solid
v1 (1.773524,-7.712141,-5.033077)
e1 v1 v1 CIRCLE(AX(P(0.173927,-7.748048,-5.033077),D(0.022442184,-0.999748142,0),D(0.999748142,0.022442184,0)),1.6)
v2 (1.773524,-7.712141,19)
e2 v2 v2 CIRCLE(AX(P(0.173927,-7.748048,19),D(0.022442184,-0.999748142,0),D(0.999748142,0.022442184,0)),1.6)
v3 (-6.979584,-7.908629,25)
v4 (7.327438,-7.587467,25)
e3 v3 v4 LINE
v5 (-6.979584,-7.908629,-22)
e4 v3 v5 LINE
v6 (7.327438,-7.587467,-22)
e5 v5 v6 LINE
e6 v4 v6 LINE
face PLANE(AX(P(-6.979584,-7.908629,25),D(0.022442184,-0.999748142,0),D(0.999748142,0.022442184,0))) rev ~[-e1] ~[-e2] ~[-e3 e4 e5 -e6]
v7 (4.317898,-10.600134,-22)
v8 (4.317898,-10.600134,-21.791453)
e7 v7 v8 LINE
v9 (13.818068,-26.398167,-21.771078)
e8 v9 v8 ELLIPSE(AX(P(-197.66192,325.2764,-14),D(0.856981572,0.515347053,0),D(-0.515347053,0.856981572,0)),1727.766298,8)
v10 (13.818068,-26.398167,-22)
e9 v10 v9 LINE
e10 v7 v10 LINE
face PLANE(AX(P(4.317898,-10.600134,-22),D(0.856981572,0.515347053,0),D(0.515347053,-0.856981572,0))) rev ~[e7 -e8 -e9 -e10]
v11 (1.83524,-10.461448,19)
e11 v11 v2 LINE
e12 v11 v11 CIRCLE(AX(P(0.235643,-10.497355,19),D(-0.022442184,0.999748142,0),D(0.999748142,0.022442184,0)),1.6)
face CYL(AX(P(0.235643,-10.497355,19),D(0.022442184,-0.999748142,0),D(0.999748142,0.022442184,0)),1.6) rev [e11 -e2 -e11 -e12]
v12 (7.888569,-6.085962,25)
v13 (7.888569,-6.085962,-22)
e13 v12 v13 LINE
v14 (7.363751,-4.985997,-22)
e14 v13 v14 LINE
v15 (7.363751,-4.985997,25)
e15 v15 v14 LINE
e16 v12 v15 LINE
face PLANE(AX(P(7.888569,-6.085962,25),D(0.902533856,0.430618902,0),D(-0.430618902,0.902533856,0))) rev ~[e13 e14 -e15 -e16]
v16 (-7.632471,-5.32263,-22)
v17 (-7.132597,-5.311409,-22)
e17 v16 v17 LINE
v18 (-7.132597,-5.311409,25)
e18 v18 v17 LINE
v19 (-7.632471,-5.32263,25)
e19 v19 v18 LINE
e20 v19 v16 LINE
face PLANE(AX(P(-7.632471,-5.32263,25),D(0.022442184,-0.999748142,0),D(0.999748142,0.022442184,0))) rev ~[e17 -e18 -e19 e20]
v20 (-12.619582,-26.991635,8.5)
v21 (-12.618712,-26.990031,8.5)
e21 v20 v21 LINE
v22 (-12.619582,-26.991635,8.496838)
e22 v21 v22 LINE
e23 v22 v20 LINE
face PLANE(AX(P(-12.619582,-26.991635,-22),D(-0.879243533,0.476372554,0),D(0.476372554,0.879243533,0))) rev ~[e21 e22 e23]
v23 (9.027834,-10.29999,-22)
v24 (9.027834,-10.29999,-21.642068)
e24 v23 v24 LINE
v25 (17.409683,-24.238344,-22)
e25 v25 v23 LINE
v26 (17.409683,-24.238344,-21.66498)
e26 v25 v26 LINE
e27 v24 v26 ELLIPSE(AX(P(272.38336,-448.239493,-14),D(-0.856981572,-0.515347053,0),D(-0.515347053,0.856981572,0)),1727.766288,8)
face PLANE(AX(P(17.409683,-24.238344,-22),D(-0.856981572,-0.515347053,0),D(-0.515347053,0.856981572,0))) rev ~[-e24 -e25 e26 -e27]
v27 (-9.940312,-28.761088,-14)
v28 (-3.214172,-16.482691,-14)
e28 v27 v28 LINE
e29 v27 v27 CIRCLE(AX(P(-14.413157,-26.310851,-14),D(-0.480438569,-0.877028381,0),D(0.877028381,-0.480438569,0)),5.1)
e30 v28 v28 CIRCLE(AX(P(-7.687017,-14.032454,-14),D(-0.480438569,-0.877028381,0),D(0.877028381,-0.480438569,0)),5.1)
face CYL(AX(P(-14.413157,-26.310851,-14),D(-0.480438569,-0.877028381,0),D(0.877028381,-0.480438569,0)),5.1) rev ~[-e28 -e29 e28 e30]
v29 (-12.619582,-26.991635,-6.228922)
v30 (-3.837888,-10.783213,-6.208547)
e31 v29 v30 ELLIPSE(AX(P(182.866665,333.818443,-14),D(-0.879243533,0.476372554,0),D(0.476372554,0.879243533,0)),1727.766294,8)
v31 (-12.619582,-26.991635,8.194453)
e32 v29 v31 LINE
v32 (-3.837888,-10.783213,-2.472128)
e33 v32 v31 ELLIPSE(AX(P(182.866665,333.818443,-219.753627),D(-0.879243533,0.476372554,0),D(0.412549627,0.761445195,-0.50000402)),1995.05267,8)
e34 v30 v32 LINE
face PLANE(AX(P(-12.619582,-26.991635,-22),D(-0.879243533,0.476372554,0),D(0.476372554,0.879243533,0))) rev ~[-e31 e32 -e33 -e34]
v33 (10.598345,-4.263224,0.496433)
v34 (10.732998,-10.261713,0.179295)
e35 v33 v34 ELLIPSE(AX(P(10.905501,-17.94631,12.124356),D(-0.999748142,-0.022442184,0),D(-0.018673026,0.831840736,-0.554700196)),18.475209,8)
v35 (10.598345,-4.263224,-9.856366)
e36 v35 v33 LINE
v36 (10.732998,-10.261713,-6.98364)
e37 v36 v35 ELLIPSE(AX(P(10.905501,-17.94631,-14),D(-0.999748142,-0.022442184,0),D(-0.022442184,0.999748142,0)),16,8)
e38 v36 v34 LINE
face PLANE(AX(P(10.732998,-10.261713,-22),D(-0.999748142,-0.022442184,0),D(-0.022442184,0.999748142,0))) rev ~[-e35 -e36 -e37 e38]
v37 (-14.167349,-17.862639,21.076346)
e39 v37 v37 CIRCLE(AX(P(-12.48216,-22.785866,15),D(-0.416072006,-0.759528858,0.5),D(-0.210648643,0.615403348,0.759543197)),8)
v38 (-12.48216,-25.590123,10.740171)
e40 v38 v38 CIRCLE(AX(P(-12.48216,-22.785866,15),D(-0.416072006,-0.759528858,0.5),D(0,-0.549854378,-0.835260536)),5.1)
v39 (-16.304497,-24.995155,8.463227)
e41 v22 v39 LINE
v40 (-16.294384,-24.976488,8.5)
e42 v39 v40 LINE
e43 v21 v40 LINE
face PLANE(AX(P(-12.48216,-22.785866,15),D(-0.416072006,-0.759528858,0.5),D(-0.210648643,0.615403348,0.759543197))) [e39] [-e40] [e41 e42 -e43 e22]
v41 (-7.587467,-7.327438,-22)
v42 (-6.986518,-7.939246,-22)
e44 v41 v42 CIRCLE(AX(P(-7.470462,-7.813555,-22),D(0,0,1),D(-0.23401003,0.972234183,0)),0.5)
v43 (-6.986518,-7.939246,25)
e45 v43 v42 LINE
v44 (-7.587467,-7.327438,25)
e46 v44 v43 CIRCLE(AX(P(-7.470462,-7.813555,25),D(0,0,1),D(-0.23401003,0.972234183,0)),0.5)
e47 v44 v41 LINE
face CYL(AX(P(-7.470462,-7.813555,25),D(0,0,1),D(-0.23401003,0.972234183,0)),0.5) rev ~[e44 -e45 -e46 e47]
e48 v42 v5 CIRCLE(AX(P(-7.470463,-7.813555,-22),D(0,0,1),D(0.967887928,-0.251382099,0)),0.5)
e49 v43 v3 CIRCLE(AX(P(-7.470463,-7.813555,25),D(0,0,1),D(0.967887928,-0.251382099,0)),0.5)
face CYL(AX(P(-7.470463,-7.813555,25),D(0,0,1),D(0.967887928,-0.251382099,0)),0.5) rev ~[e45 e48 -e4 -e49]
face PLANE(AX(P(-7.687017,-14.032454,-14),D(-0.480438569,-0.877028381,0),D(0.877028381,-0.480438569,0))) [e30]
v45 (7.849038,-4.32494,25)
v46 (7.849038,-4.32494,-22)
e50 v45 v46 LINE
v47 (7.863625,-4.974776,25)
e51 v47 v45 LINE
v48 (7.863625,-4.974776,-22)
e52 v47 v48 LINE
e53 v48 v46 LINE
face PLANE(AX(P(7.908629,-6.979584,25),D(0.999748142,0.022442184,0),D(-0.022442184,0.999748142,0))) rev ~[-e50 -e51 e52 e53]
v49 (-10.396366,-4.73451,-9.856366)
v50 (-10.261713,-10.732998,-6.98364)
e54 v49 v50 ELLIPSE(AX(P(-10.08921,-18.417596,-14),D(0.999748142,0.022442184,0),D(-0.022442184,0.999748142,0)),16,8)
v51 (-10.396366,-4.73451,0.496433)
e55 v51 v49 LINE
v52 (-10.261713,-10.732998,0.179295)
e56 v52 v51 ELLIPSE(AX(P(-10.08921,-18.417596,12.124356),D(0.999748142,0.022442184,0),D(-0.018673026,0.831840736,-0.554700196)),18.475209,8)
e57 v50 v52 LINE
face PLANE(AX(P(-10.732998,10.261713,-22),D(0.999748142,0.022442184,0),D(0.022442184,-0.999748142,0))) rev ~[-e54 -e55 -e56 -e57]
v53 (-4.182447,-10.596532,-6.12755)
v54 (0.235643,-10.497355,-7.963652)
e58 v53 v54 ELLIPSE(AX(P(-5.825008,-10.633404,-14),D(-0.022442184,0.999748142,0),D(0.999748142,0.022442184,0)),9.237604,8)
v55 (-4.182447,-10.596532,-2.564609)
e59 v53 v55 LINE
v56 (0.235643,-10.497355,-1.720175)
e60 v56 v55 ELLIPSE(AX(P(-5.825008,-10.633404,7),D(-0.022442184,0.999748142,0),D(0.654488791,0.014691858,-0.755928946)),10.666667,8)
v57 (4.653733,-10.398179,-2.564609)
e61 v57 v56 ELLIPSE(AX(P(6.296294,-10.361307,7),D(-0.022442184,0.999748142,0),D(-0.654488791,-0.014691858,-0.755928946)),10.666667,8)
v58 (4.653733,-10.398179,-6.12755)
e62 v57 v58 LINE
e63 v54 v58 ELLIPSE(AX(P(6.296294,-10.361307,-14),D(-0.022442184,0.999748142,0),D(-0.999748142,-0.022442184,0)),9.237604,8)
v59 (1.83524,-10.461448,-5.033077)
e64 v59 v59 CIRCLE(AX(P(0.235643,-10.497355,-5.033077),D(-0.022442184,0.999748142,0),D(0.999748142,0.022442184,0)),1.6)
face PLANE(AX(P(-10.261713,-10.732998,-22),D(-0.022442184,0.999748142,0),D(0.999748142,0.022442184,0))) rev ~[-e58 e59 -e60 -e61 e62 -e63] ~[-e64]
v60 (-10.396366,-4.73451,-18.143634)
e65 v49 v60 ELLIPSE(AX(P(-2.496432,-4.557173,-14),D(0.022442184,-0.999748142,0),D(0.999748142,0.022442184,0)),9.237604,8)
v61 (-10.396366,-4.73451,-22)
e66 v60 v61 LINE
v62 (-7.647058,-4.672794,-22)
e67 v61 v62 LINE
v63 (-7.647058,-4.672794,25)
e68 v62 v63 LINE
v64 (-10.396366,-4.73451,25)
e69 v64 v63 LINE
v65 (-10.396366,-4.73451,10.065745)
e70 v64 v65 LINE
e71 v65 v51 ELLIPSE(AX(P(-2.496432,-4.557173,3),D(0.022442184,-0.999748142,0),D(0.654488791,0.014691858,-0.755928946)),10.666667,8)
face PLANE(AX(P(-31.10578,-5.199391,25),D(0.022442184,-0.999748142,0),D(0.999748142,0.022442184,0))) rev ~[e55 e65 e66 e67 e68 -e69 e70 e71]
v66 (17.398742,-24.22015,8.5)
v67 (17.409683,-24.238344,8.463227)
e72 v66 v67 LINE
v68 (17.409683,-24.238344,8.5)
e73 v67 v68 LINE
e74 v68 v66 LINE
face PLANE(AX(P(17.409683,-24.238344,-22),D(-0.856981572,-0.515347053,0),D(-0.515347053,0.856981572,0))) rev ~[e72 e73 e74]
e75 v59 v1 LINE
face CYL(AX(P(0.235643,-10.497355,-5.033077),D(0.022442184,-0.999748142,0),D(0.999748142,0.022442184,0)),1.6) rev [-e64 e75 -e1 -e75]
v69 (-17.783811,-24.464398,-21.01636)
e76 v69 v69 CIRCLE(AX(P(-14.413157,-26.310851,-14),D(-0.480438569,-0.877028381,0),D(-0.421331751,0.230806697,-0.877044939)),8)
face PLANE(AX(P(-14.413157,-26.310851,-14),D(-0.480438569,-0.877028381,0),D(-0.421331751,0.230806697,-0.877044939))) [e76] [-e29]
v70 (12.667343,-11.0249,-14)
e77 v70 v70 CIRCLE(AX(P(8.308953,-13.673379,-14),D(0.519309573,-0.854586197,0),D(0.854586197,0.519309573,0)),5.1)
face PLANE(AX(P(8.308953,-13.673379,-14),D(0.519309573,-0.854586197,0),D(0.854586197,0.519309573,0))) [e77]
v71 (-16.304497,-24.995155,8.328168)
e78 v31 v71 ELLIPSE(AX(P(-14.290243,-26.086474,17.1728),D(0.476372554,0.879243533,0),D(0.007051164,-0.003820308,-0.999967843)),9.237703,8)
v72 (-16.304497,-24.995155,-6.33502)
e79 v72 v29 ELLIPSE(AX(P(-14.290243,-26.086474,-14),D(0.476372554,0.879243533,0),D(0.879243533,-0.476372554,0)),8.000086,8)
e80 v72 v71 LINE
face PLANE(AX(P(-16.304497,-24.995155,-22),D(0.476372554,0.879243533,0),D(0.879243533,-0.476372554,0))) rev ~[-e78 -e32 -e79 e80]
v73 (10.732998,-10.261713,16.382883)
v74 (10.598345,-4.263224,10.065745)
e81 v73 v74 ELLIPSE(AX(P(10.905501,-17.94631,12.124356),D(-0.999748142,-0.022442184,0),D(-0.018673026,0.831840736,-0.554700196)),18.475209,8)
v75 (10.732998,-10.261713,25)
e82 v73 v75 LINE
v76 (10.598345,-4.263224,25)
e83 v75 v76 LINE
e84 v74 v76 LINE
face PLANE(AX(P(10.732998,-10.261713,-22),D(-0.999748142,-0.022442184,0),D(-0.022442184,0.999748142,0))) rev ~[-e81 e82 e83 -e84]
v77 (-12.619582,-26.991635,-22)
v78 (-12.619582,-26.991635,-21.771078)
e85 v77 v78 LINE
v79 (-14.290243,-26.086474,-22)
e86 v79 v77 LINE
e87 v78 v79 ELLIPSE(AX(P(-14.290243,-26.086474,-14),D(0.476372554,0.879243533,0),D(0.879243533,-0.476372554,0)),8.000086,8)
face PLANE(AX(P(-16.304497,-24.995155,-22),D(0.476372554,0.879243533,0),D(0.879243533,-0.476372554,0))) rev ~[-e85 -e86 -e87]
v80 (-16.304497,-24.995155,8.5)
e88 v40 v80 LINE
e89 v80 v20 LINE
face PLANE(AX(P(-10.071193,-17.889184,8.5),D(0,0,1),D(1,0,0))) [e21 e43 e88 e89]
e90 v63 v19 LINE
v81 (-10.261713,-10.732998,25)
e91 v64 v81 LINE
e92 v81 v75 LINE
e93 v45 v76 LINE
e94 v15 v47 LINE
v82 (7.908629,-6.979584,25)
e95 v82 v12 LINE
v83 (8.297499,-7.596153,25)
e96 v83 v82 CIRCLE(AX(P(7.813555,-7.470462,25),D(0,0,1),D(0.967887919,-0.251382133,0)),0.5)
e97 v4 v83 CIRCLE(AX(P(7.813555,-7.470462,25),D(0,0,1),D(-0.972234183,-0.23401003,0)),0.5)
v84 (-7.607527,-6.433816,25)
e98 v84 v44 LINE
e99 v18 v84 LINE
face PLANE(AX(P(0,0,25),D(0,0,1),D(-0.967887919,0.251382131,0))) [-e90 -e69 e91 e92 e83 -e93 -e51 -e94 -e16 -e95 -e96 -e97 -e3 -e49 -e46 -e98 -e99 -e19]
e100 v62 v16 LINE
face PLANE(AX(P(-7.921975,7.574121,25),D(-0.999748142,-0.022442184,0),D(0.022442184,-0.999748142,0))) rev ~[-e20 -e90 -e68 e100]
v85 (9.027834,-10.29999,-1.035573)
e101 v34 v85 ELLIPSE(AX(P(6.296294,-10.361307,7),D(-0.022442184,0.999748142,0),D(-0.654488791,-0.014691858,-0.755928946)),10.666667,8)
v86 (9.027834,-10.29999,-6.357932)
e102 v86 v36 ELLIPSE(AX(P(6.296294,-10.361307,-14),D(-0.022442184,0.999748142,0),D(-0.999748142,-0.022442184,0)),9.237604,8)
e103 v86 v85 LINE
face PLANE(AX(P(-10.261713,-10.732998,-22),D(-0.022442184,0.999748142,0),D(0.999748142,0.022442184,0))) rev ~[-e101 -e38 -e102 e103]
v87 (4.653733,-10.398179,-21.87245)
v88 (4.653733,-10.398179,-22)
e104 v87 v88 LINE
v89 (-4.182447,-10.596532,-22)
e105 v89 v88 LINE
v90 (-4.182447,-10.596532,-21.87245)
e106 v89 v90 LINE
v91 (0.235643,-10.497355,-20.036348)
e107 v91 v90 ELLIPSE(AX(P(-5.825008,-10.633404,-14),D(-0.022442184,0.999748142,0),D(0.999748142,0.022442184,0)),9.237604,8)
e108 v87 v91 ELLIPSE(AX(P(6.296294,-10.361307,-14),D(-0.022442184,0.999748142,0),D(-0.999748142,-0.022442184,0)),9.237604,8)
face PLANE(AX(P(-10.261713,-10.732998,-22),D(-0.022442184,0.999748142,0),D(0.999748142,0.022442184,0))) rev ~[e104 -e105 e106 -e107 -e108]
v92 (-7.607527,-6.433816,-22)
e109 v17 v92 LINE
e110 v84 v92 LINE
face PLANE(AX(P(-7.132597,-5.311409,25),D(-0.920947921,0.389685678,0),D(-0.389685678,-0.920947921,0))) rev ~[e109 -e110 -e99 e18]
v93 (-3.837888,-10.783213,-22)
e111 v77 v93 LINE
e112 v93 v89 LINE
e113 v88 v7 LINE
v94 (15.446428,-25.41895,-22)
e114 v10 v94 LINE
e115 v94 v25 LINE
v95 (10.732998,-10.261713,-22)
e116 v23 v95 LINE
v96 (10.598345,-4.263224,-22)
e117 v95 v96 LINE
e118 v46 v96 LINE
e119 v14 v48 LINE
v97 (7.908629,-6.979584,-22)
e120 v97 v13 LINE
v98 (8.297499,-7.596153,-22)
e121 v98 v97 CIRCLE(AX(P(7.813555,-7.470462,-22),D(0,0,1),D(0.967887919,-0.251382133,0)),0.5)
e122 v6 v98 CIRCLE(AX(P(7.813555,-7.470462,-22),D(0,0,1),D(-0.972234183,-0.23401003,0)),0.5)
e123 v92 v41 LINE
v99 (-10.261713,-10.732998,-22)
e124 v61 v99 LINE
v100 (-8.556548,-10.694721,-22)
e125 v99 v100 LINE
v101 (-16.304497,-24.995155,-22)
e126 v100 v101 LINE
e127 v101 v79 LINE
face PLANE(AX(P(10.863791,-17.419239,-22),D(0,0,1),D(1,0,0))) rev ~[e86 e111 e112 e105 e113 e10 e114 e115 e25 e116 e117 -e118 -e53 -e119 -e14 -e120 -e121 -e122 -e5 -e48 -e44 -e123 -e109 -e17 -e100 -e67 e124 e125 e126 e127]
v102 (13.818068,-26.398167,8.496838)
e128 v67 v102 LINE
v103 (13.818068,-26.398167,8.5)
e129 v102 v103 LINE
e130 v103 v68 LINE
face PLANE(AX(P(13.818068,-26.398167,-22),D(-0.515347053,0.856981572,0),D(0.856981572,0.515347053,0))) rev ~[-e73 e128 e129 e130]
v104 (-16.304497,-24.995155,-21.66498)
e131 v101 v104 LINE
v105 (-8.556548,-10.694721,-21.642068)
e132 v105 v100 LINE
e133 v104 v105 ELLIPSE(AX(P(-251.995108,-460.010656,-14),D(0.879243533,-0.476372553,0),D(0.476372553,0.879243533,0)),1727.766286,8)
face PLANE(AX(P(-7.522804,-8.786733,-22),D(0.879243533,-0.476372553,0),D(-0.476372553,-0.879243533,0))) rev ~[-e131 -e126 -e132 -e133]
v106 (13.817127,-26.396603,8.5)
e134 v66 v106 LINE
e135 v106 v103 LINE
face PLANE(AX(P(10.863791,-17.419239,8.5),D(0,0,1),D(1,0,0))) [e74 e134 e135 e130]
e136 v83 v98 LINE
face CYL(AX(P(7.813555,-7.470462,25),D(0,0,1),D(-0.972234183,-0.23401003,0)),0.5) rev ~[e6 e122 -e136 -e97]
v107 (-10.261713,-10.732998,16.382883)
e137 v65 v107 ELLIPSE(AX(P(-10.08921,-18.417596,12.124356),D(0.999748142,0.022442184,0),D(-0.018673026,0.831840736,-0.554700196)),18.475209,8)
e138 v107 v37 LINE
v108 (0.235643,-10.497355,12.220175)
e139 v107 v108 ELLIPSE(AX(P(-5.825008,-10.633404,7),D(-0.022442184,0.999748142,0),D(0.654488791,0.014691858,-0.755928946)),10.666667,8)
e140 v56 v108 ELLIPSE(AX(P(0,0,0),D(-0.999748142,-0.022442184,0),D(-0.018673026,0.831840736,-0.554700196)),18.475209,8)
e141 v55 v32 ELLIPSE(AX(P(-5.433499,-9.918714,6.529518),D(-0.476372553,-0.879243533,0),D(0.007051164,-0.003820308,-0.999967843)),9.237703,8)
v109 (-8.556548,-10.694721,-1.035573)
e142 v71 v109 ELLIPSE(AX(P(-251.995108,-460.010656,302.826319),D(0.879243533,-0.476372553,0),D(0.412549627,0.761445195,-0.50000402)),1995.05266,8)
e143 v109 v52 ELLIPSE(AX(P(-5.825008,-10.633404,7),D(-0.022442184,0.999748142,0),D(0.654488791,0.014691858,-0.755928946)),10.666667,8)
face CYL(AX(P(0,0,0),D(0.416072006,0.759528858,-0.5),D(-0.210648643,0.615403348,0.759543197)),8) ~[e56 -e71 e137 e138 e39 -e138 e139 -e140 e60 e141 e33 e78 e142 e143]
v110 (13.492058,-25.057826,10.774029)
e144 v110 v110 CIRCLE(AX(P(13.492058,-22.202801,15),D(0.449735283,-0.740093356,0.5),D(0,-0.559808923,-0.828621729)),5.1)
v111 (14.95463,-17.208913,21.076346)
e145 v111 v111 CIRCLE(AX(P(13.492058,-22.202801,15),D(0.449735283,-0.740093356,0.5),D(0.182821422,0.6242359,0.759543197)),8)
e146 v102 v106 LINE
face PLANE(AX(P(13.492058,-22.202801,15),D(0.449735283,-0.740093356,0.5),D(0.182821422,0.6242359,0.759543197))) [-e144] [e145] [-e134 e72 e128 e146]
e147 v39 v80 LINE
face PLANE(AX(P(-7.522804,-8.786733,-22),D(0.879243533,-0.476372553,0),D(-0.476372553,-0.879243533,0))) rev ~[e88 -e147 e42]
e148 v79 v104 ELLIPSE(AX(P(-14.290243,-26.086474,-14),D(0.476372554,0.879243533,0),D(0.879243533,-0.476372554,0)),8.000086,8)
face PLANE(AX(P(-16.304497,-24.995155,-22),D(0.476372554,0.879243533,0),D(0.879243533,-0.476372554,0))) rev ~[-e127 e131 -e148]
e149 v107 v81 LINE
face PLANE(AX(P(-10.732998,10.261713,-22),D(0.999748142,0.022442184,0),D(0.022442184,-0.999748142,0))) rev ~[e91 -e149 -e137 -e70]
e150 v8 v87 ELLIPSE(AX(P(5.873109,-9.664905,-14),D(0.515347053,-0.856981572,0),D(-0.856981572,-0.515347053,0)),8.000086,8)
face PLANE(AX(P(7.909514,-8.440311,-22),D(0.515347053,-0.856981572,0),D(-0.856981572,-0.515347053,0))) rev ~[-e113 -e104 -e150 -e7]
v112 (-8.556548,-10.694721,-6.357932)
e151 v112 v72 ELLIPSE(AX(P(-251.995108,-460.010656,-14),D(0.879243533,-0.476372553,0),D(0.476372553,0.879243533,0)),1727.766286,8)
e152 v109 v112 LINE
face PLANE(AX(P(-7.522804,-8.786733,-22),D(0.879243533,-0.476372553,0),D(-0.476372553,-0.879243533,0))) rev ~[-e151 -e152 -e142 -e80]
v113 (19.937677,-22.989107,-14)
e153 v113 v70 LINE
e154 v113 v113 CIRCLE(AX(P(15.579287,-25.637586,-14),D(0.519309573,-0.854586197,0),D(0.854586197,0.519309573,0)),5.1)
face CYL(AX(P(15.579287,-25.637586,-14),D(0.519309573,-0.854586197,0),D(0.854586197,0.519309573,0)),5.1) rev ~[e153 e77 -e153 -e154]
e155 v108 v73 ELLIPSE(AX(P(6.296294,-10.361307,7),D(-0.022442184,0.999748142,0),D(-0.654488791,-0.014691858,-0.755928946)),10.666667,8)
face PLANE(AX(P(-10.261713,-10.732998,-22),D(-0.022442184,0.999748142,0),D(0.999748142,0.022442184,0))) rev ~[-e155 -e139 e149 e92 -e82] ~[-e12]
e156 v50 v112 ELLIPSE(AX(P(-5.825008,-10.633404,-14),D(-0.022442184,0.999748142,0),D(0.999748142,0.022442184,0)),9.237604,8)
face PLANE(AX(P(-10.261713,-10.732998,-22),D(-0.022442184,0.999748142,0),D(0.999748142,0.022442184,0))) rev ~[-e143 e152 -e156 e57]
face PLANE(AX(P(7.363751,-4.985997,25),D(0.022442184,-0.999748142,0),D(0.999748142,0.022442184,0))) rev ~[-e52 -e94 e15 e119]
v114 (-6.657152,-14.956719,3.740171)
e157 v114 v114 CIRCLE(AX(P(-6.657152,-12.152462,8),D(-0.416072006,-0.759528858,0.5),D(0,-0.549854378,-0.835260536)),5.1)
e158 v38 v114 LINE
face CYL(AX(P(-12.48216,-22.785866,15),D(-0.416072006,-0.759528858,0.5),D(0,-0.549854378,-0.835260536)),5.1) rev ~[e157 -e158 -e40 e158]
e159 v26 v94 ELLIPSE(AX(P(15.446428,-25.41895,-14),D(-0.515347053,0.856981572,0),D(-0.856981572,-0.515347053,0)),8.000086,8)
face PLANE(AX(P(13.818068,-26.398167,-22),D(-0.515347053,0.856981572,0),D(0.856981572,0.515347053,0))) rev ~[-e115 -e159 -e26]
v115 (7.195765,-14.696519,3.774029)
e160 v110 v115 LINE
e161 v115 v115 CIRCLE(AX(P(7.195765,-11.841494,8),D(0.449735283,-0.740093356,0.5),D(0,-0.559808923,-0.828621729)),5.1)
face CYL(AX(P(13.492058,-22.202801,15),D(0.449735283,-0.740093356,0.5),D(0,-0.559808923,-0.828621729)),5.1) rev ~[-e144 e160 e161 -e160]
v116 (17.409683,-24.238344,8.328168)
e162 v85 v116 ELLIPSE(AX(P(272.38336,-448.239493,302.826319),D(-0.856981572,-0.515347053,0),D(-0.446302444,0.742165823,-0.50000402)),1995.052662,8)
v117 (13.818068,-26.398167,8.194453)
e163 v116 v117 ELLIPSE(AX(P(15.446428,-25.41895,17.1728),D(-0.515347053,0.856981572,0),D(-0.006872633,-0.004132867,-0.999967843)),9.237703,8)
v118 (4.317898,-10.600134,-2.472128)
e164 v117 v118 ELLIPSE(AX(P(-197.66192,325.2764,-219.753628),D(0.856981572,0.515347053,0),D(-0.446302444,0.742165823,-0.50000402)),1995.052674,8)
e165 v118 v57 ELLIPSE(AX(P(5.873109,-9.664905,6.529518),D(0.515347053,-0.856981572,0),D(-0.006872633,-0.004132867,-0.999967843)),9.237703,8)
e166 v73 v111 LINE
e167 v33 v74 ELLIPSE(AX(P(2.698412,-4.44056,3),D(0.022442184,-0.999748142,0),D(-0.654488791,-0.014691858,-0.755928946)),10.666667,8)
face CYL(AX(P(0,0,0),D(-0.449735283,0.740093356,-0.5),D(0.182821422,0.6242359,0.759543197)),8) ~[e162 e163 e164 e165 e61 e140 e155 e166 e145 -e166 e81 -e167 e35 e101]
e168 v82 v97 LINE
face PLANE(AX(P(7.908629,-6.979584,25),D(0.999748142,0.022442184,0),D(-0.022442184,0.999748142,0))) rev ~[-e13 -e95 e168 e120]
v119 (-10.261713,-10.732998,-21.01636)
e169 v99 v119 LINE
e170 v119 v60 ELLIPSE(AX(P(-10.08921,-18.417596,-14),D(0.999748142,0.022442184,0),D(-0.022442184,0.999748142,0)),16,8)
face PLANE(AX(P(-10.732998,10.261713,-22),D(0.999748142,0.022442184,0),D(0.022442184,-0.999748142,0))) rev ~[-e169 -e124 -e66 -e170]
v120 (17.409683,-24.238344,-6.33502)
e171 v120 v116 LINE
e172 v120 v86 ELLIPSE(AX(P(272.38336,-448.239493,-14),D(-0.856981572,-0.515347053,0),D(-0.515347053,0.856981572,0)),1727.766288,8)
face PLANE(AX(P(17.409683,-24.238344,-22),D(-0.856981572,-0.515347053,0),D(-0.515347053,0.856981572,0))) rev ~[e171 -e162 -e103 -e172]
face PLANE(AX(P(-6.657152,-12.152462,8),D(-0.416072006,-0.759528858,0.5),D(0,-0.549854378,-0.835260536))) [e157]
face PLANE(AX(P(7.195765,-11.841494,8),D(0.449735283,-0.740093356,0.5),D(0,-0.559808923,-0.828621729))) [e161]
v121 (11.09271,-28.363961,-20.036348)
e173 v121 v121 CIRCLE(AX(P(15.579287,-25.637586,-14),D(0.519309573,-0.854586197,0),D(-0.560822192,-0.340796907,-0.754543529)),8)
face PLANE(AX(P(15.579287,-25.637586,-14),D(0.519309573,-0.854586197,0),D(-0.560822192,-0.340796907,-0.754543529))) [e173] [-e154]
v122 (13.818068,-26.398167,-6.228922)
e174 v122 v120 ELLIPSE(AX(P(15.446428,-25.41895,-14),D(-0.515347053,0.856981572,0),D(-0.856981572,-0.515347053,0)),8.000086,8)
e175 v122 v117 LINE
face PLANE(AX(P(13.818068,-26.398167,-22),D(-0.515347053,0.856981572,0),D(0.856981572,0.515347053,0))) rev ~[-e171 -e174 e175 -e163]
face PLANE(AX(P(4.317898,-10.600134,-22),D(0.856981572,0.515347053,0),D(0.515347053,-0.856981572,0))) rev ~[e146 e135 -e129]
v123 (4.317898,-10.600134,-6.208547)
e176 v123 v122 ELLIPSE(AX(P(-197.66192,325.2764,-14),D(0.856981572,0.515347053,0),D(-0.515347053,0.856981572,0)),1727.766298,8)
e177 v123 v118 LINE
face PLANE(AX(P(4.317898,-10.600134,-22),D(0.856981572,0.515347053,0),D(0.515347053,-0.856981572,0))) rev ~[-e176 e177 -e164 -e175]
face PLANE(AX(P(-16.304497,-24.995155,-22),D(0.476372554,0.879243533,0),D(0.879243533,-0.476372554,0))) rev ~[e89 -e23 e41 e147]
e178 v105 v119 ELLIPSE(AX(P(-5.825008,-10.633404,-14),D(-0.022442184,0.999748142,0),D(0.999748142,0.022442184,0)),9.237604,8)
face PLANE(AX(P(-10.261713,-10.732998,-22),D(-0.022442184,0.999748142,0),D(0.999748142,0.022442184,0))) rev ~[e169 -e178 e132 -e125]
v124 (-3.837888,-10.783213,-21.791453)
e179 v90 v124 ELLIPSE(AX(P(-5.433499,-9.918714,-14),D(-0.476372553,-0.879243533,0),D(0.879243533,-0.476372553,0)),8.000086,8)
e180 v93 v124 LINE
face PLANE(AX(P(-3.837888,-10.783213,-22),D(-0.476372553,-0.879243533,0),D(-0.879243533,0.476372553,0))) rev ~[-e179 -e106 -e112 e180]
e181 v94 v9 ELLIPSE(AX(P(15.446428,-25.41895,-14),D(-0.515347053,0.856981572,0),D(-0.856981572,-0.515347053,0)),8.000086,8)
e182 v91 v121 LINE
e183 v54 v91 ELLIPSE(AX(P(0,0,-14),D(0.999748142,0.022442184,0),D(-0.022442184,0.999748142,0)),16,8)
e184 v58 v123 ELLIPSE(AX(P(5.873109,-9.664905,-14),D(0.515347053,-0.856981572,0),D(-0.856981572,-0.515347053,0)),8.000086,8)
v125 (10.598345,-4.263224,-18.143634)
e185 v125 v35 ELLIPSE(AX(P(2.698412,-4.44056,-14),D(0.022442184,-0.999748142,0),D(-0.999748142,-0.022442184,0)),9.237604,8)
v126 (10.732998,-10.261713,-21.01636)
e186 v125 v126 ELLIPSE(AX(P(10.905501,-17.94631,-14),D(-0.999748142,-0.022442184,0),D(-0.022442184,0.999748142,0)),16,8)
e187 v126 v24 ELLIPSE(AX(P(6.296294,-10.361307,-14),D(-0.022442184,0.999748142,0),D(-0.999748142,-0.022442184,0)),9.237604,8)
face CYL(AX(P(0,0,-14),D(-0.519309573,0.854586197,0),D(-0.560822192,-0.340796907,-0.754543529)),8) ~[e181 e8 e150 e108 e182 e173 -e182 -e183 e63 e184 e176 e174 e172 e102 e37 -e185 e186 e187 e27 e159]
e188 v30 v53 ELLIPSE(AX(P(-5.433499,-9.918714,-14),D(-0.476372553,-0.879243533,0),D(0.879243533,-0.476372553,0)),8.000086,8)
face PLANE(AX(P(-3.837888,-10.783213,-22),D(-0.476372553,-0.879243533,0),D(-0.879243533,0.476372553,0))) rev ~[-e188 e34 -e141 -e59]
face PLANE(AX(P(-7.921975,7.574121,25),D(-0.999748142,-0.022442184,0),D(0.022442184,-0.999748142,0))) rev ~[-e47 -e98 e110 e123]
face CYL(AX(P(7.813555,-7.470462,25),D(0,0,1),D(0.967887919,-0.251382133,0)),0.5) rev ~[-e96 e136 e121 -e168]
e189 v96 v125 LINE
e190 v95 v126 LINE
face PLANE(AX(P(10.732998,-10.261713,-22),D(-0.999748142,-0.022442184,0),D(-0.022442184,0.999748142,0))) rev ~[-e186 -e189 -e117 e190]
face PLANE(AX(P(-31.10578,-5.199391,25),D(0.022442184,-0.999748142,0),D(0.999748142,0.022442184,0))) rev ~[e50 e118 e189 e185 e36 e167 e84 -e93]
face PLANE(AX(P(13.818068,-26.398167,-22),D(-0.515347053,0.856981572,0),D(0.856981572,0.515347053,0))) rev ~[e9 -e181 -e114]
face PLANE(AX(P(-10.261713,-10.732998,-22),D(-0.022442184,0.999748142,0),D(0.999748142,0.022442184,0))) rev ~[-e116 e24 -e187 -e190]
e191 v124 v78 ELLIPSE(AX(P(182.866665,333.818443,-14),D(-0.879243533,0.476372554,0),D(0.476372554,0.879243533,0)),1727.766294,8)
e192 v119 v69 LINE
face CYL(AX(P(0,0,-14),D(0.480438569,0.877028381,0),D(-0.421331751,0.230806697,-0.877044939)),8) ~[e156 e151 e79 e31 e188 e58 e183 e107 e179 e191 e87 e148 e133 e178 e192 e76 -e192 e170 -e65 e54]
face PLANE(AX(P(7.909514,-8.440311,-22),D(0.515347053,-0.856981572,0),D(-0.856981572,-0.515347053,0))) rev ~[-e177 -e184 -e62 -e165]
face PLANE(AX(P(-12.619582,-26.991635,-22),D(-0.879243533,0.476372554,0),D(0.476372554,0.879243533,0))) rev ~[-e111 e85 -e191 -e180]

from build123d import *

# Parameters (mm, degrees)
BOSS_EXTRUDE1_DEPTH      = 25
BOSS_EXTRUDE1_DEPTH_BACK = 22
SKETCH5_R                = 8
BOSS_EXTRUDE2_DEPTH      = 30
SKETCH6_R                = 8
BOSS_EXTRUDE3_DEPTH      = 30
SKETCH18_R               = 8
BOSS_EXTRUDE4_DEPTH      = 30
SKETCH19_R               = 8
BOSS_EXTRUDE5_DEPTH      = 30
SKETCH11_R               = 0.5
CUT_EXTRUDE4_DEPTH       = 61.172763276
CUT_EXTRUDE5_REACH       = 41.594
SKETCH12_R               = 1.6
TOPCUT_DEPTH             = 61.172763276
GRABTABS_DEPTH           = 47
BOSS_EXTRUDE6_DEPTH      = 30.5
SKETCH22_R               = 5.1
CUT_EXTRUDE6_DEPTH       = 14
SKETCH23_R               = 5.1
CUT_EXTRUDE7_DEPTH       = 14
SKETCH20_R               = 5.1
CUT_EXTRUDE8_DEPTH       = 14
SKETCH21_R               = 5.1
CUT_EXTRUDE9_DEPTH       = 14


with BuildPart() as part:
    # Sketch3 → Boss-Extrude1 (new, two sides: drawn at the far end of the back side and taken through both)
    with BuildSketch(Plane(origin=(0, 0, 0), x_dir=(-0.9678879191476432, 0.2513821313618881, 0), z_dir=(0, 0, 1)).offset(-BOSS_EXTRUDE1_DEPTH_BACK)):
        Polygon((-7.234103595, -12.967950693), (12.967950693, -7.234103595), (7.234103595, 12.967950693), (-12.967950693, 7.234103595), align=None)
    extrude(amount=BOSS_EXTRUDE1_DEPTH + BOSS_EXTRUDE1_DEPTH_BACK)

    # Sketch5 → Boss-Extrude2 (add)
    with BuildSketch(Plane(origin=(0, 0, 0), x_dir=(-0.7398893525523432, -0.6222846190478576, -0.2555887299474237), z_dir=(0.4497352826512201, -0.740093355961685, 0.499999999999998))):
        with Locations(Location((0, 0, 0), (0, 0, 224.122685504))):
            Circle(SKETCH5_R)
    extrude(amount=BOSS_EXTRUDE2_DEPTH)

    # Sketch6 → Boss-Extrude3 (add)
    with BuildSketch(Plane(origin=(0, 0, 0), x_dir=(-0.7035639492311271, 0.6172392366079582, 0.3521554970945721), z_dir=(-0.4160720061092844, -0.7595288577349761, 0.499999999999998))):
        with Locations(Location((0, 0, 0), (0, 0, 322.705646398))):
            Circle(SKETCH6_R)
    extrude(amount=BOSS_EXTRUDE3_DEPTH)

    # Sketch18 → Boss-Extrude4 (add)
    with BuildSketch(Plane(origin=(0, 0, -14), x_dir=(-0.8770283809411537, 0.48043856945892555, 0), z_dir=(-0.4804385694589255, -0.8770283809411535, 0))):
        with Locations(Location((0, 0, 0), (0, 0, 61.287925102))):
            Circle(SKETCH18_R)
    extrude(amount=BOSS_EXTRUDE4_DEPTH)

    # Sketch19 → Boss-Extrude5 (add)
    with BuildSketch(Plane(origin=(0, 0, -14), x_dir=(-0.8545861965798597, -0.5193095730055144, 0), z_dir=(0.5193095730055143, -0.8545861965798596, 0))):
        with Locations(Location((0, 0, 0), (0, 0, 48.985500334))):
            Circle(SKETCH19_R)
    extrude(amount=BOSS_EXTRUDE5_DEPTH)

    # Sketch11 → Cut-Extrude4 (cut, through all)
    with BuildSketch(Plane(origin=(0, 0, 25), x_dir=(0.967887919147643, -0.25138213136188803, 0), z_dir=(0, 0, 1))):
        with BuildLine():
            ThreePointArc((-4.766381934, -9.44058657), (-4.766628372, -9.424890171), (-4.767367442, -9.409209245))
            Line((-4.767367442, -9.409209245), (-5.339457415, -9.571582654))
            Line((-5.339457415, -9.571582654), (-5.501830825, -8.999492681))
            ThreePointArc((-5.501830825, -8.999492681), (-5.523554594, -9.869378155), (-4.766381934, -9.44058657))
        make_face()
        with BuildLine():
            Line((-5.339457415, -9.571582654), (-4.767367442, -9.409209245))
            ThreePointArc((-4.767367442, -9.409209245), (-5.022796995, -9.003932957), (-5.501830825, -8.999492681))
            Line((-5.501830825, -8.999492681), (-5.339457415, -9.571582654))
        make_face()
        with BuildLine():
            Line((8.999492681, -5.501830825), (9.571582654, -5.339457415))
            Line((9.571582654, -5.339457415), (9.409209245, -4.767367442))
            ThreePointArc((9.409209245, -4.767367442), (9.003932957, -5.022796995), (8.999492681, -5.501830825))
        make_face()
        with BuildLine():
            Line((9.409209245, -4.767367442), (9.571582654, -5.339457415))
            Line((9.571582654, -5.339457415), (8.999492681, -5.501830825))
            ThreePointArc((8.999492681, -5.501830825), (9.561939475, -5.751431903), (9.94058657, -5.266381934))
            ThreePointArc((9.94058657, -5.266381934), (9.782866673, -4.901903771), (9.409209245, -4.767367442))
        make_face()
        with Locations((-5.266381934, -9.44058657)):
            Circle(SKETCH11_R)
        with Locations((9.44058657, -5.266381934)):
            Circle(SKETCH11_R)
        Polygon((-5.339457415, -9.571582654), (9.571582654, -5.339457415), (5.339457415, 9.571582654), (-9.571582654, 5.339457415), align=None)
    extrude(amount=-CUT_EXTRUDE4_DEPTH, mode=Mode.SUBTRACT)

    # Sketch12 → Cut-Extrude5 (cut, up to next)
    with BuildSketch(Plane(origin=(0.235642936, -10.497355496, 0), x_dir=(0.07428415697149086, 0.0016675187230335104, -0.9972357210832067), z_dir=(-0.02244218436129408, 0.9997481424644377, 0)), mode=Mode.PRIVATE) as cut_extrude5_sk1:
        with Locations(Location((-18.947478701, -1.411754543, 0), (0, 0, 274.261167974))):
            Circle(SKETCH12_R)
    cut_extrude5_tool1 = extrude(cut_extrude5_sk1.sketch, amount=CUT_EXTRUDE5_REACH, mode=Mode.PRIVATE) & part.part
    # Sketch12 → Cut-Extrude5 (cut, up to next)
    with BuildSketch(Plane(origin=(0.235642936, -10.497355496, 0), x_dir=(0.07428415697149086, 0.0016675187230335104, -0.9972357210832067), z_dir=(-0.02244218436129408, 0.9997481424644377, 0)), mode=Mode.PRIVATE) as cut_extrude5_sk2:
        with Locations(Location((5.019164388, 0.373972086, 0), (0, 0, 274.261167974))):
            Circle(SKETCH12_R)
    cut_extrude5_tool2 = extrude(cut_extrude5_sk2.sketch, amount=CUT_EXTRUDE5_REACH, mode=Mode.PRIVATE) & part.part
    add(cut_extrude5_tool1.solids().sort_by_distance((0.235643, -10.497355, 19))[0], mode=Mode.SUBTRACT)
    add(cut_extrude5_tool2.solids().sort_by_distance((0.235643, -10.497355, -5.033077))[0], mode=Mode.SUBTRACT)

    # Sketch14 → TopCut (cut, through all)
    with BuildSketch(Plane.XY.offset(25)):
        Polygon((-31.105779731, -5.199391149), (38.352697692, -3.640198499), (37.988721129, 12.574127466), (-33.745248602, 10.963854933), align=None)
    extrude(amount=-TOPCUT_DEPTH, mode=Mode.SUBTRACT)

    # Sketch17 → GrabTabs (add, through all)
    with BuildSketch(Plane(origin=(0, 0, 25), x_dir=(-1, 0, 0), z_dir=(0, 0, -1))):
        Polygon((7.132596783, -5.31140877), (7.607527123, -6.433816222), (7.632470855, -5.322629862), align=None)
        Polygon((-7.888569085, -6.085962364), (-7.363751282, -4.985997097), (-7.863625354, -4.974776005), align=None)
    extrude(amount=GRABTABS_DEPTH)

    # Sketch24 → Boss-Extrude6 (add)
    with BuildSketch(Plane(origin=(0, 0, -22), x_dir=(-1, 0, 0), z_dir=(0, 0, -1))):
        Polygon((-13.818067506, -26.398167405), (-17.409683037, -24.238344439), (-7.909513608, -8.440310713), (-4.317898077, -10.60013368), align=None)
        Polygon((3.837888164, -10.783213448), (7.522803724, -8.786732873), (16.304497418, -24.9951549), (12.619581859, -26.991635476), align=None)
    extrude(amount=-BOSS_EXTRUDE6_DEPTH)

    # Sketch22 → Cut-Extrude6 (cut)
    with BuildSketch(Plane(origin=(-14.413157084, -26.310851428, 0), x_dir=(0.8770283809411535, -0.48043856945892577, 0), z_dir=(-0.4804385694589257, -0.8770283809411534, 0))):
        with Locations((0, -14)):
            Circle(SKETCH22_R)
    extrude(amount=-CUT_EXTRUDE6_DEPTH, mode=Mode.SUBTRACT)

    # Sketch23 → Cut-Extrude7 (cut)
    with BuildSketch(Plane(origin=(-12.482160183, -22.785865732, 15), x_dir=(0.9093316698170122, -0.34752852674676815, 0.22877901425835656), z_dir=(-0.41607200610928446, -0.7595288577349762, 0.4999999999999979))):
        with Locations(Location((0, 0, 0), (0, 0, 270))):
            Circle(SKETCH23_R)
    extrude(amount=-CUT_EXTRUDE7_DEPTH, mode=Mode.SUBTRACT)

    # Sketch20 → Cut-Extrude8 (cut)
    with BuildSketch(Plane(origin=(13.49205848, -22.202800679, 15), x_dir=(-0.893161897719908, -0.37266042750079065, 0.2517658242023739), z_dir=(0.44973528265122, -0.7400933559616851, 0.49999999999999784))):
        with Locations(Location((0, 0, 0), (0, 0, 90))):
            Circle(SKETCH20_R)
    extrude(amount=-CUT_EXTRUDE8_DEPTH, mode=Mode.SUBTRACT)

    # Sketch21 → Cut-Extrude9 (cut)
    with BuildSketch(Plane(origin=(15.57928719, -25.637585897, 0), x_dir=(0.8545861965798595, 0.5193095730055145, 0), z_dir=(0.5193095730055145, -0.8545861965798595, 0))):
        with Locations((0, -14)):
            Circle(SKETCH21_R)
    extrude(amount=-CUT_EXTRUDE9_DEPTH, mode=Mode.SUBTRACT)


solid = part.part
